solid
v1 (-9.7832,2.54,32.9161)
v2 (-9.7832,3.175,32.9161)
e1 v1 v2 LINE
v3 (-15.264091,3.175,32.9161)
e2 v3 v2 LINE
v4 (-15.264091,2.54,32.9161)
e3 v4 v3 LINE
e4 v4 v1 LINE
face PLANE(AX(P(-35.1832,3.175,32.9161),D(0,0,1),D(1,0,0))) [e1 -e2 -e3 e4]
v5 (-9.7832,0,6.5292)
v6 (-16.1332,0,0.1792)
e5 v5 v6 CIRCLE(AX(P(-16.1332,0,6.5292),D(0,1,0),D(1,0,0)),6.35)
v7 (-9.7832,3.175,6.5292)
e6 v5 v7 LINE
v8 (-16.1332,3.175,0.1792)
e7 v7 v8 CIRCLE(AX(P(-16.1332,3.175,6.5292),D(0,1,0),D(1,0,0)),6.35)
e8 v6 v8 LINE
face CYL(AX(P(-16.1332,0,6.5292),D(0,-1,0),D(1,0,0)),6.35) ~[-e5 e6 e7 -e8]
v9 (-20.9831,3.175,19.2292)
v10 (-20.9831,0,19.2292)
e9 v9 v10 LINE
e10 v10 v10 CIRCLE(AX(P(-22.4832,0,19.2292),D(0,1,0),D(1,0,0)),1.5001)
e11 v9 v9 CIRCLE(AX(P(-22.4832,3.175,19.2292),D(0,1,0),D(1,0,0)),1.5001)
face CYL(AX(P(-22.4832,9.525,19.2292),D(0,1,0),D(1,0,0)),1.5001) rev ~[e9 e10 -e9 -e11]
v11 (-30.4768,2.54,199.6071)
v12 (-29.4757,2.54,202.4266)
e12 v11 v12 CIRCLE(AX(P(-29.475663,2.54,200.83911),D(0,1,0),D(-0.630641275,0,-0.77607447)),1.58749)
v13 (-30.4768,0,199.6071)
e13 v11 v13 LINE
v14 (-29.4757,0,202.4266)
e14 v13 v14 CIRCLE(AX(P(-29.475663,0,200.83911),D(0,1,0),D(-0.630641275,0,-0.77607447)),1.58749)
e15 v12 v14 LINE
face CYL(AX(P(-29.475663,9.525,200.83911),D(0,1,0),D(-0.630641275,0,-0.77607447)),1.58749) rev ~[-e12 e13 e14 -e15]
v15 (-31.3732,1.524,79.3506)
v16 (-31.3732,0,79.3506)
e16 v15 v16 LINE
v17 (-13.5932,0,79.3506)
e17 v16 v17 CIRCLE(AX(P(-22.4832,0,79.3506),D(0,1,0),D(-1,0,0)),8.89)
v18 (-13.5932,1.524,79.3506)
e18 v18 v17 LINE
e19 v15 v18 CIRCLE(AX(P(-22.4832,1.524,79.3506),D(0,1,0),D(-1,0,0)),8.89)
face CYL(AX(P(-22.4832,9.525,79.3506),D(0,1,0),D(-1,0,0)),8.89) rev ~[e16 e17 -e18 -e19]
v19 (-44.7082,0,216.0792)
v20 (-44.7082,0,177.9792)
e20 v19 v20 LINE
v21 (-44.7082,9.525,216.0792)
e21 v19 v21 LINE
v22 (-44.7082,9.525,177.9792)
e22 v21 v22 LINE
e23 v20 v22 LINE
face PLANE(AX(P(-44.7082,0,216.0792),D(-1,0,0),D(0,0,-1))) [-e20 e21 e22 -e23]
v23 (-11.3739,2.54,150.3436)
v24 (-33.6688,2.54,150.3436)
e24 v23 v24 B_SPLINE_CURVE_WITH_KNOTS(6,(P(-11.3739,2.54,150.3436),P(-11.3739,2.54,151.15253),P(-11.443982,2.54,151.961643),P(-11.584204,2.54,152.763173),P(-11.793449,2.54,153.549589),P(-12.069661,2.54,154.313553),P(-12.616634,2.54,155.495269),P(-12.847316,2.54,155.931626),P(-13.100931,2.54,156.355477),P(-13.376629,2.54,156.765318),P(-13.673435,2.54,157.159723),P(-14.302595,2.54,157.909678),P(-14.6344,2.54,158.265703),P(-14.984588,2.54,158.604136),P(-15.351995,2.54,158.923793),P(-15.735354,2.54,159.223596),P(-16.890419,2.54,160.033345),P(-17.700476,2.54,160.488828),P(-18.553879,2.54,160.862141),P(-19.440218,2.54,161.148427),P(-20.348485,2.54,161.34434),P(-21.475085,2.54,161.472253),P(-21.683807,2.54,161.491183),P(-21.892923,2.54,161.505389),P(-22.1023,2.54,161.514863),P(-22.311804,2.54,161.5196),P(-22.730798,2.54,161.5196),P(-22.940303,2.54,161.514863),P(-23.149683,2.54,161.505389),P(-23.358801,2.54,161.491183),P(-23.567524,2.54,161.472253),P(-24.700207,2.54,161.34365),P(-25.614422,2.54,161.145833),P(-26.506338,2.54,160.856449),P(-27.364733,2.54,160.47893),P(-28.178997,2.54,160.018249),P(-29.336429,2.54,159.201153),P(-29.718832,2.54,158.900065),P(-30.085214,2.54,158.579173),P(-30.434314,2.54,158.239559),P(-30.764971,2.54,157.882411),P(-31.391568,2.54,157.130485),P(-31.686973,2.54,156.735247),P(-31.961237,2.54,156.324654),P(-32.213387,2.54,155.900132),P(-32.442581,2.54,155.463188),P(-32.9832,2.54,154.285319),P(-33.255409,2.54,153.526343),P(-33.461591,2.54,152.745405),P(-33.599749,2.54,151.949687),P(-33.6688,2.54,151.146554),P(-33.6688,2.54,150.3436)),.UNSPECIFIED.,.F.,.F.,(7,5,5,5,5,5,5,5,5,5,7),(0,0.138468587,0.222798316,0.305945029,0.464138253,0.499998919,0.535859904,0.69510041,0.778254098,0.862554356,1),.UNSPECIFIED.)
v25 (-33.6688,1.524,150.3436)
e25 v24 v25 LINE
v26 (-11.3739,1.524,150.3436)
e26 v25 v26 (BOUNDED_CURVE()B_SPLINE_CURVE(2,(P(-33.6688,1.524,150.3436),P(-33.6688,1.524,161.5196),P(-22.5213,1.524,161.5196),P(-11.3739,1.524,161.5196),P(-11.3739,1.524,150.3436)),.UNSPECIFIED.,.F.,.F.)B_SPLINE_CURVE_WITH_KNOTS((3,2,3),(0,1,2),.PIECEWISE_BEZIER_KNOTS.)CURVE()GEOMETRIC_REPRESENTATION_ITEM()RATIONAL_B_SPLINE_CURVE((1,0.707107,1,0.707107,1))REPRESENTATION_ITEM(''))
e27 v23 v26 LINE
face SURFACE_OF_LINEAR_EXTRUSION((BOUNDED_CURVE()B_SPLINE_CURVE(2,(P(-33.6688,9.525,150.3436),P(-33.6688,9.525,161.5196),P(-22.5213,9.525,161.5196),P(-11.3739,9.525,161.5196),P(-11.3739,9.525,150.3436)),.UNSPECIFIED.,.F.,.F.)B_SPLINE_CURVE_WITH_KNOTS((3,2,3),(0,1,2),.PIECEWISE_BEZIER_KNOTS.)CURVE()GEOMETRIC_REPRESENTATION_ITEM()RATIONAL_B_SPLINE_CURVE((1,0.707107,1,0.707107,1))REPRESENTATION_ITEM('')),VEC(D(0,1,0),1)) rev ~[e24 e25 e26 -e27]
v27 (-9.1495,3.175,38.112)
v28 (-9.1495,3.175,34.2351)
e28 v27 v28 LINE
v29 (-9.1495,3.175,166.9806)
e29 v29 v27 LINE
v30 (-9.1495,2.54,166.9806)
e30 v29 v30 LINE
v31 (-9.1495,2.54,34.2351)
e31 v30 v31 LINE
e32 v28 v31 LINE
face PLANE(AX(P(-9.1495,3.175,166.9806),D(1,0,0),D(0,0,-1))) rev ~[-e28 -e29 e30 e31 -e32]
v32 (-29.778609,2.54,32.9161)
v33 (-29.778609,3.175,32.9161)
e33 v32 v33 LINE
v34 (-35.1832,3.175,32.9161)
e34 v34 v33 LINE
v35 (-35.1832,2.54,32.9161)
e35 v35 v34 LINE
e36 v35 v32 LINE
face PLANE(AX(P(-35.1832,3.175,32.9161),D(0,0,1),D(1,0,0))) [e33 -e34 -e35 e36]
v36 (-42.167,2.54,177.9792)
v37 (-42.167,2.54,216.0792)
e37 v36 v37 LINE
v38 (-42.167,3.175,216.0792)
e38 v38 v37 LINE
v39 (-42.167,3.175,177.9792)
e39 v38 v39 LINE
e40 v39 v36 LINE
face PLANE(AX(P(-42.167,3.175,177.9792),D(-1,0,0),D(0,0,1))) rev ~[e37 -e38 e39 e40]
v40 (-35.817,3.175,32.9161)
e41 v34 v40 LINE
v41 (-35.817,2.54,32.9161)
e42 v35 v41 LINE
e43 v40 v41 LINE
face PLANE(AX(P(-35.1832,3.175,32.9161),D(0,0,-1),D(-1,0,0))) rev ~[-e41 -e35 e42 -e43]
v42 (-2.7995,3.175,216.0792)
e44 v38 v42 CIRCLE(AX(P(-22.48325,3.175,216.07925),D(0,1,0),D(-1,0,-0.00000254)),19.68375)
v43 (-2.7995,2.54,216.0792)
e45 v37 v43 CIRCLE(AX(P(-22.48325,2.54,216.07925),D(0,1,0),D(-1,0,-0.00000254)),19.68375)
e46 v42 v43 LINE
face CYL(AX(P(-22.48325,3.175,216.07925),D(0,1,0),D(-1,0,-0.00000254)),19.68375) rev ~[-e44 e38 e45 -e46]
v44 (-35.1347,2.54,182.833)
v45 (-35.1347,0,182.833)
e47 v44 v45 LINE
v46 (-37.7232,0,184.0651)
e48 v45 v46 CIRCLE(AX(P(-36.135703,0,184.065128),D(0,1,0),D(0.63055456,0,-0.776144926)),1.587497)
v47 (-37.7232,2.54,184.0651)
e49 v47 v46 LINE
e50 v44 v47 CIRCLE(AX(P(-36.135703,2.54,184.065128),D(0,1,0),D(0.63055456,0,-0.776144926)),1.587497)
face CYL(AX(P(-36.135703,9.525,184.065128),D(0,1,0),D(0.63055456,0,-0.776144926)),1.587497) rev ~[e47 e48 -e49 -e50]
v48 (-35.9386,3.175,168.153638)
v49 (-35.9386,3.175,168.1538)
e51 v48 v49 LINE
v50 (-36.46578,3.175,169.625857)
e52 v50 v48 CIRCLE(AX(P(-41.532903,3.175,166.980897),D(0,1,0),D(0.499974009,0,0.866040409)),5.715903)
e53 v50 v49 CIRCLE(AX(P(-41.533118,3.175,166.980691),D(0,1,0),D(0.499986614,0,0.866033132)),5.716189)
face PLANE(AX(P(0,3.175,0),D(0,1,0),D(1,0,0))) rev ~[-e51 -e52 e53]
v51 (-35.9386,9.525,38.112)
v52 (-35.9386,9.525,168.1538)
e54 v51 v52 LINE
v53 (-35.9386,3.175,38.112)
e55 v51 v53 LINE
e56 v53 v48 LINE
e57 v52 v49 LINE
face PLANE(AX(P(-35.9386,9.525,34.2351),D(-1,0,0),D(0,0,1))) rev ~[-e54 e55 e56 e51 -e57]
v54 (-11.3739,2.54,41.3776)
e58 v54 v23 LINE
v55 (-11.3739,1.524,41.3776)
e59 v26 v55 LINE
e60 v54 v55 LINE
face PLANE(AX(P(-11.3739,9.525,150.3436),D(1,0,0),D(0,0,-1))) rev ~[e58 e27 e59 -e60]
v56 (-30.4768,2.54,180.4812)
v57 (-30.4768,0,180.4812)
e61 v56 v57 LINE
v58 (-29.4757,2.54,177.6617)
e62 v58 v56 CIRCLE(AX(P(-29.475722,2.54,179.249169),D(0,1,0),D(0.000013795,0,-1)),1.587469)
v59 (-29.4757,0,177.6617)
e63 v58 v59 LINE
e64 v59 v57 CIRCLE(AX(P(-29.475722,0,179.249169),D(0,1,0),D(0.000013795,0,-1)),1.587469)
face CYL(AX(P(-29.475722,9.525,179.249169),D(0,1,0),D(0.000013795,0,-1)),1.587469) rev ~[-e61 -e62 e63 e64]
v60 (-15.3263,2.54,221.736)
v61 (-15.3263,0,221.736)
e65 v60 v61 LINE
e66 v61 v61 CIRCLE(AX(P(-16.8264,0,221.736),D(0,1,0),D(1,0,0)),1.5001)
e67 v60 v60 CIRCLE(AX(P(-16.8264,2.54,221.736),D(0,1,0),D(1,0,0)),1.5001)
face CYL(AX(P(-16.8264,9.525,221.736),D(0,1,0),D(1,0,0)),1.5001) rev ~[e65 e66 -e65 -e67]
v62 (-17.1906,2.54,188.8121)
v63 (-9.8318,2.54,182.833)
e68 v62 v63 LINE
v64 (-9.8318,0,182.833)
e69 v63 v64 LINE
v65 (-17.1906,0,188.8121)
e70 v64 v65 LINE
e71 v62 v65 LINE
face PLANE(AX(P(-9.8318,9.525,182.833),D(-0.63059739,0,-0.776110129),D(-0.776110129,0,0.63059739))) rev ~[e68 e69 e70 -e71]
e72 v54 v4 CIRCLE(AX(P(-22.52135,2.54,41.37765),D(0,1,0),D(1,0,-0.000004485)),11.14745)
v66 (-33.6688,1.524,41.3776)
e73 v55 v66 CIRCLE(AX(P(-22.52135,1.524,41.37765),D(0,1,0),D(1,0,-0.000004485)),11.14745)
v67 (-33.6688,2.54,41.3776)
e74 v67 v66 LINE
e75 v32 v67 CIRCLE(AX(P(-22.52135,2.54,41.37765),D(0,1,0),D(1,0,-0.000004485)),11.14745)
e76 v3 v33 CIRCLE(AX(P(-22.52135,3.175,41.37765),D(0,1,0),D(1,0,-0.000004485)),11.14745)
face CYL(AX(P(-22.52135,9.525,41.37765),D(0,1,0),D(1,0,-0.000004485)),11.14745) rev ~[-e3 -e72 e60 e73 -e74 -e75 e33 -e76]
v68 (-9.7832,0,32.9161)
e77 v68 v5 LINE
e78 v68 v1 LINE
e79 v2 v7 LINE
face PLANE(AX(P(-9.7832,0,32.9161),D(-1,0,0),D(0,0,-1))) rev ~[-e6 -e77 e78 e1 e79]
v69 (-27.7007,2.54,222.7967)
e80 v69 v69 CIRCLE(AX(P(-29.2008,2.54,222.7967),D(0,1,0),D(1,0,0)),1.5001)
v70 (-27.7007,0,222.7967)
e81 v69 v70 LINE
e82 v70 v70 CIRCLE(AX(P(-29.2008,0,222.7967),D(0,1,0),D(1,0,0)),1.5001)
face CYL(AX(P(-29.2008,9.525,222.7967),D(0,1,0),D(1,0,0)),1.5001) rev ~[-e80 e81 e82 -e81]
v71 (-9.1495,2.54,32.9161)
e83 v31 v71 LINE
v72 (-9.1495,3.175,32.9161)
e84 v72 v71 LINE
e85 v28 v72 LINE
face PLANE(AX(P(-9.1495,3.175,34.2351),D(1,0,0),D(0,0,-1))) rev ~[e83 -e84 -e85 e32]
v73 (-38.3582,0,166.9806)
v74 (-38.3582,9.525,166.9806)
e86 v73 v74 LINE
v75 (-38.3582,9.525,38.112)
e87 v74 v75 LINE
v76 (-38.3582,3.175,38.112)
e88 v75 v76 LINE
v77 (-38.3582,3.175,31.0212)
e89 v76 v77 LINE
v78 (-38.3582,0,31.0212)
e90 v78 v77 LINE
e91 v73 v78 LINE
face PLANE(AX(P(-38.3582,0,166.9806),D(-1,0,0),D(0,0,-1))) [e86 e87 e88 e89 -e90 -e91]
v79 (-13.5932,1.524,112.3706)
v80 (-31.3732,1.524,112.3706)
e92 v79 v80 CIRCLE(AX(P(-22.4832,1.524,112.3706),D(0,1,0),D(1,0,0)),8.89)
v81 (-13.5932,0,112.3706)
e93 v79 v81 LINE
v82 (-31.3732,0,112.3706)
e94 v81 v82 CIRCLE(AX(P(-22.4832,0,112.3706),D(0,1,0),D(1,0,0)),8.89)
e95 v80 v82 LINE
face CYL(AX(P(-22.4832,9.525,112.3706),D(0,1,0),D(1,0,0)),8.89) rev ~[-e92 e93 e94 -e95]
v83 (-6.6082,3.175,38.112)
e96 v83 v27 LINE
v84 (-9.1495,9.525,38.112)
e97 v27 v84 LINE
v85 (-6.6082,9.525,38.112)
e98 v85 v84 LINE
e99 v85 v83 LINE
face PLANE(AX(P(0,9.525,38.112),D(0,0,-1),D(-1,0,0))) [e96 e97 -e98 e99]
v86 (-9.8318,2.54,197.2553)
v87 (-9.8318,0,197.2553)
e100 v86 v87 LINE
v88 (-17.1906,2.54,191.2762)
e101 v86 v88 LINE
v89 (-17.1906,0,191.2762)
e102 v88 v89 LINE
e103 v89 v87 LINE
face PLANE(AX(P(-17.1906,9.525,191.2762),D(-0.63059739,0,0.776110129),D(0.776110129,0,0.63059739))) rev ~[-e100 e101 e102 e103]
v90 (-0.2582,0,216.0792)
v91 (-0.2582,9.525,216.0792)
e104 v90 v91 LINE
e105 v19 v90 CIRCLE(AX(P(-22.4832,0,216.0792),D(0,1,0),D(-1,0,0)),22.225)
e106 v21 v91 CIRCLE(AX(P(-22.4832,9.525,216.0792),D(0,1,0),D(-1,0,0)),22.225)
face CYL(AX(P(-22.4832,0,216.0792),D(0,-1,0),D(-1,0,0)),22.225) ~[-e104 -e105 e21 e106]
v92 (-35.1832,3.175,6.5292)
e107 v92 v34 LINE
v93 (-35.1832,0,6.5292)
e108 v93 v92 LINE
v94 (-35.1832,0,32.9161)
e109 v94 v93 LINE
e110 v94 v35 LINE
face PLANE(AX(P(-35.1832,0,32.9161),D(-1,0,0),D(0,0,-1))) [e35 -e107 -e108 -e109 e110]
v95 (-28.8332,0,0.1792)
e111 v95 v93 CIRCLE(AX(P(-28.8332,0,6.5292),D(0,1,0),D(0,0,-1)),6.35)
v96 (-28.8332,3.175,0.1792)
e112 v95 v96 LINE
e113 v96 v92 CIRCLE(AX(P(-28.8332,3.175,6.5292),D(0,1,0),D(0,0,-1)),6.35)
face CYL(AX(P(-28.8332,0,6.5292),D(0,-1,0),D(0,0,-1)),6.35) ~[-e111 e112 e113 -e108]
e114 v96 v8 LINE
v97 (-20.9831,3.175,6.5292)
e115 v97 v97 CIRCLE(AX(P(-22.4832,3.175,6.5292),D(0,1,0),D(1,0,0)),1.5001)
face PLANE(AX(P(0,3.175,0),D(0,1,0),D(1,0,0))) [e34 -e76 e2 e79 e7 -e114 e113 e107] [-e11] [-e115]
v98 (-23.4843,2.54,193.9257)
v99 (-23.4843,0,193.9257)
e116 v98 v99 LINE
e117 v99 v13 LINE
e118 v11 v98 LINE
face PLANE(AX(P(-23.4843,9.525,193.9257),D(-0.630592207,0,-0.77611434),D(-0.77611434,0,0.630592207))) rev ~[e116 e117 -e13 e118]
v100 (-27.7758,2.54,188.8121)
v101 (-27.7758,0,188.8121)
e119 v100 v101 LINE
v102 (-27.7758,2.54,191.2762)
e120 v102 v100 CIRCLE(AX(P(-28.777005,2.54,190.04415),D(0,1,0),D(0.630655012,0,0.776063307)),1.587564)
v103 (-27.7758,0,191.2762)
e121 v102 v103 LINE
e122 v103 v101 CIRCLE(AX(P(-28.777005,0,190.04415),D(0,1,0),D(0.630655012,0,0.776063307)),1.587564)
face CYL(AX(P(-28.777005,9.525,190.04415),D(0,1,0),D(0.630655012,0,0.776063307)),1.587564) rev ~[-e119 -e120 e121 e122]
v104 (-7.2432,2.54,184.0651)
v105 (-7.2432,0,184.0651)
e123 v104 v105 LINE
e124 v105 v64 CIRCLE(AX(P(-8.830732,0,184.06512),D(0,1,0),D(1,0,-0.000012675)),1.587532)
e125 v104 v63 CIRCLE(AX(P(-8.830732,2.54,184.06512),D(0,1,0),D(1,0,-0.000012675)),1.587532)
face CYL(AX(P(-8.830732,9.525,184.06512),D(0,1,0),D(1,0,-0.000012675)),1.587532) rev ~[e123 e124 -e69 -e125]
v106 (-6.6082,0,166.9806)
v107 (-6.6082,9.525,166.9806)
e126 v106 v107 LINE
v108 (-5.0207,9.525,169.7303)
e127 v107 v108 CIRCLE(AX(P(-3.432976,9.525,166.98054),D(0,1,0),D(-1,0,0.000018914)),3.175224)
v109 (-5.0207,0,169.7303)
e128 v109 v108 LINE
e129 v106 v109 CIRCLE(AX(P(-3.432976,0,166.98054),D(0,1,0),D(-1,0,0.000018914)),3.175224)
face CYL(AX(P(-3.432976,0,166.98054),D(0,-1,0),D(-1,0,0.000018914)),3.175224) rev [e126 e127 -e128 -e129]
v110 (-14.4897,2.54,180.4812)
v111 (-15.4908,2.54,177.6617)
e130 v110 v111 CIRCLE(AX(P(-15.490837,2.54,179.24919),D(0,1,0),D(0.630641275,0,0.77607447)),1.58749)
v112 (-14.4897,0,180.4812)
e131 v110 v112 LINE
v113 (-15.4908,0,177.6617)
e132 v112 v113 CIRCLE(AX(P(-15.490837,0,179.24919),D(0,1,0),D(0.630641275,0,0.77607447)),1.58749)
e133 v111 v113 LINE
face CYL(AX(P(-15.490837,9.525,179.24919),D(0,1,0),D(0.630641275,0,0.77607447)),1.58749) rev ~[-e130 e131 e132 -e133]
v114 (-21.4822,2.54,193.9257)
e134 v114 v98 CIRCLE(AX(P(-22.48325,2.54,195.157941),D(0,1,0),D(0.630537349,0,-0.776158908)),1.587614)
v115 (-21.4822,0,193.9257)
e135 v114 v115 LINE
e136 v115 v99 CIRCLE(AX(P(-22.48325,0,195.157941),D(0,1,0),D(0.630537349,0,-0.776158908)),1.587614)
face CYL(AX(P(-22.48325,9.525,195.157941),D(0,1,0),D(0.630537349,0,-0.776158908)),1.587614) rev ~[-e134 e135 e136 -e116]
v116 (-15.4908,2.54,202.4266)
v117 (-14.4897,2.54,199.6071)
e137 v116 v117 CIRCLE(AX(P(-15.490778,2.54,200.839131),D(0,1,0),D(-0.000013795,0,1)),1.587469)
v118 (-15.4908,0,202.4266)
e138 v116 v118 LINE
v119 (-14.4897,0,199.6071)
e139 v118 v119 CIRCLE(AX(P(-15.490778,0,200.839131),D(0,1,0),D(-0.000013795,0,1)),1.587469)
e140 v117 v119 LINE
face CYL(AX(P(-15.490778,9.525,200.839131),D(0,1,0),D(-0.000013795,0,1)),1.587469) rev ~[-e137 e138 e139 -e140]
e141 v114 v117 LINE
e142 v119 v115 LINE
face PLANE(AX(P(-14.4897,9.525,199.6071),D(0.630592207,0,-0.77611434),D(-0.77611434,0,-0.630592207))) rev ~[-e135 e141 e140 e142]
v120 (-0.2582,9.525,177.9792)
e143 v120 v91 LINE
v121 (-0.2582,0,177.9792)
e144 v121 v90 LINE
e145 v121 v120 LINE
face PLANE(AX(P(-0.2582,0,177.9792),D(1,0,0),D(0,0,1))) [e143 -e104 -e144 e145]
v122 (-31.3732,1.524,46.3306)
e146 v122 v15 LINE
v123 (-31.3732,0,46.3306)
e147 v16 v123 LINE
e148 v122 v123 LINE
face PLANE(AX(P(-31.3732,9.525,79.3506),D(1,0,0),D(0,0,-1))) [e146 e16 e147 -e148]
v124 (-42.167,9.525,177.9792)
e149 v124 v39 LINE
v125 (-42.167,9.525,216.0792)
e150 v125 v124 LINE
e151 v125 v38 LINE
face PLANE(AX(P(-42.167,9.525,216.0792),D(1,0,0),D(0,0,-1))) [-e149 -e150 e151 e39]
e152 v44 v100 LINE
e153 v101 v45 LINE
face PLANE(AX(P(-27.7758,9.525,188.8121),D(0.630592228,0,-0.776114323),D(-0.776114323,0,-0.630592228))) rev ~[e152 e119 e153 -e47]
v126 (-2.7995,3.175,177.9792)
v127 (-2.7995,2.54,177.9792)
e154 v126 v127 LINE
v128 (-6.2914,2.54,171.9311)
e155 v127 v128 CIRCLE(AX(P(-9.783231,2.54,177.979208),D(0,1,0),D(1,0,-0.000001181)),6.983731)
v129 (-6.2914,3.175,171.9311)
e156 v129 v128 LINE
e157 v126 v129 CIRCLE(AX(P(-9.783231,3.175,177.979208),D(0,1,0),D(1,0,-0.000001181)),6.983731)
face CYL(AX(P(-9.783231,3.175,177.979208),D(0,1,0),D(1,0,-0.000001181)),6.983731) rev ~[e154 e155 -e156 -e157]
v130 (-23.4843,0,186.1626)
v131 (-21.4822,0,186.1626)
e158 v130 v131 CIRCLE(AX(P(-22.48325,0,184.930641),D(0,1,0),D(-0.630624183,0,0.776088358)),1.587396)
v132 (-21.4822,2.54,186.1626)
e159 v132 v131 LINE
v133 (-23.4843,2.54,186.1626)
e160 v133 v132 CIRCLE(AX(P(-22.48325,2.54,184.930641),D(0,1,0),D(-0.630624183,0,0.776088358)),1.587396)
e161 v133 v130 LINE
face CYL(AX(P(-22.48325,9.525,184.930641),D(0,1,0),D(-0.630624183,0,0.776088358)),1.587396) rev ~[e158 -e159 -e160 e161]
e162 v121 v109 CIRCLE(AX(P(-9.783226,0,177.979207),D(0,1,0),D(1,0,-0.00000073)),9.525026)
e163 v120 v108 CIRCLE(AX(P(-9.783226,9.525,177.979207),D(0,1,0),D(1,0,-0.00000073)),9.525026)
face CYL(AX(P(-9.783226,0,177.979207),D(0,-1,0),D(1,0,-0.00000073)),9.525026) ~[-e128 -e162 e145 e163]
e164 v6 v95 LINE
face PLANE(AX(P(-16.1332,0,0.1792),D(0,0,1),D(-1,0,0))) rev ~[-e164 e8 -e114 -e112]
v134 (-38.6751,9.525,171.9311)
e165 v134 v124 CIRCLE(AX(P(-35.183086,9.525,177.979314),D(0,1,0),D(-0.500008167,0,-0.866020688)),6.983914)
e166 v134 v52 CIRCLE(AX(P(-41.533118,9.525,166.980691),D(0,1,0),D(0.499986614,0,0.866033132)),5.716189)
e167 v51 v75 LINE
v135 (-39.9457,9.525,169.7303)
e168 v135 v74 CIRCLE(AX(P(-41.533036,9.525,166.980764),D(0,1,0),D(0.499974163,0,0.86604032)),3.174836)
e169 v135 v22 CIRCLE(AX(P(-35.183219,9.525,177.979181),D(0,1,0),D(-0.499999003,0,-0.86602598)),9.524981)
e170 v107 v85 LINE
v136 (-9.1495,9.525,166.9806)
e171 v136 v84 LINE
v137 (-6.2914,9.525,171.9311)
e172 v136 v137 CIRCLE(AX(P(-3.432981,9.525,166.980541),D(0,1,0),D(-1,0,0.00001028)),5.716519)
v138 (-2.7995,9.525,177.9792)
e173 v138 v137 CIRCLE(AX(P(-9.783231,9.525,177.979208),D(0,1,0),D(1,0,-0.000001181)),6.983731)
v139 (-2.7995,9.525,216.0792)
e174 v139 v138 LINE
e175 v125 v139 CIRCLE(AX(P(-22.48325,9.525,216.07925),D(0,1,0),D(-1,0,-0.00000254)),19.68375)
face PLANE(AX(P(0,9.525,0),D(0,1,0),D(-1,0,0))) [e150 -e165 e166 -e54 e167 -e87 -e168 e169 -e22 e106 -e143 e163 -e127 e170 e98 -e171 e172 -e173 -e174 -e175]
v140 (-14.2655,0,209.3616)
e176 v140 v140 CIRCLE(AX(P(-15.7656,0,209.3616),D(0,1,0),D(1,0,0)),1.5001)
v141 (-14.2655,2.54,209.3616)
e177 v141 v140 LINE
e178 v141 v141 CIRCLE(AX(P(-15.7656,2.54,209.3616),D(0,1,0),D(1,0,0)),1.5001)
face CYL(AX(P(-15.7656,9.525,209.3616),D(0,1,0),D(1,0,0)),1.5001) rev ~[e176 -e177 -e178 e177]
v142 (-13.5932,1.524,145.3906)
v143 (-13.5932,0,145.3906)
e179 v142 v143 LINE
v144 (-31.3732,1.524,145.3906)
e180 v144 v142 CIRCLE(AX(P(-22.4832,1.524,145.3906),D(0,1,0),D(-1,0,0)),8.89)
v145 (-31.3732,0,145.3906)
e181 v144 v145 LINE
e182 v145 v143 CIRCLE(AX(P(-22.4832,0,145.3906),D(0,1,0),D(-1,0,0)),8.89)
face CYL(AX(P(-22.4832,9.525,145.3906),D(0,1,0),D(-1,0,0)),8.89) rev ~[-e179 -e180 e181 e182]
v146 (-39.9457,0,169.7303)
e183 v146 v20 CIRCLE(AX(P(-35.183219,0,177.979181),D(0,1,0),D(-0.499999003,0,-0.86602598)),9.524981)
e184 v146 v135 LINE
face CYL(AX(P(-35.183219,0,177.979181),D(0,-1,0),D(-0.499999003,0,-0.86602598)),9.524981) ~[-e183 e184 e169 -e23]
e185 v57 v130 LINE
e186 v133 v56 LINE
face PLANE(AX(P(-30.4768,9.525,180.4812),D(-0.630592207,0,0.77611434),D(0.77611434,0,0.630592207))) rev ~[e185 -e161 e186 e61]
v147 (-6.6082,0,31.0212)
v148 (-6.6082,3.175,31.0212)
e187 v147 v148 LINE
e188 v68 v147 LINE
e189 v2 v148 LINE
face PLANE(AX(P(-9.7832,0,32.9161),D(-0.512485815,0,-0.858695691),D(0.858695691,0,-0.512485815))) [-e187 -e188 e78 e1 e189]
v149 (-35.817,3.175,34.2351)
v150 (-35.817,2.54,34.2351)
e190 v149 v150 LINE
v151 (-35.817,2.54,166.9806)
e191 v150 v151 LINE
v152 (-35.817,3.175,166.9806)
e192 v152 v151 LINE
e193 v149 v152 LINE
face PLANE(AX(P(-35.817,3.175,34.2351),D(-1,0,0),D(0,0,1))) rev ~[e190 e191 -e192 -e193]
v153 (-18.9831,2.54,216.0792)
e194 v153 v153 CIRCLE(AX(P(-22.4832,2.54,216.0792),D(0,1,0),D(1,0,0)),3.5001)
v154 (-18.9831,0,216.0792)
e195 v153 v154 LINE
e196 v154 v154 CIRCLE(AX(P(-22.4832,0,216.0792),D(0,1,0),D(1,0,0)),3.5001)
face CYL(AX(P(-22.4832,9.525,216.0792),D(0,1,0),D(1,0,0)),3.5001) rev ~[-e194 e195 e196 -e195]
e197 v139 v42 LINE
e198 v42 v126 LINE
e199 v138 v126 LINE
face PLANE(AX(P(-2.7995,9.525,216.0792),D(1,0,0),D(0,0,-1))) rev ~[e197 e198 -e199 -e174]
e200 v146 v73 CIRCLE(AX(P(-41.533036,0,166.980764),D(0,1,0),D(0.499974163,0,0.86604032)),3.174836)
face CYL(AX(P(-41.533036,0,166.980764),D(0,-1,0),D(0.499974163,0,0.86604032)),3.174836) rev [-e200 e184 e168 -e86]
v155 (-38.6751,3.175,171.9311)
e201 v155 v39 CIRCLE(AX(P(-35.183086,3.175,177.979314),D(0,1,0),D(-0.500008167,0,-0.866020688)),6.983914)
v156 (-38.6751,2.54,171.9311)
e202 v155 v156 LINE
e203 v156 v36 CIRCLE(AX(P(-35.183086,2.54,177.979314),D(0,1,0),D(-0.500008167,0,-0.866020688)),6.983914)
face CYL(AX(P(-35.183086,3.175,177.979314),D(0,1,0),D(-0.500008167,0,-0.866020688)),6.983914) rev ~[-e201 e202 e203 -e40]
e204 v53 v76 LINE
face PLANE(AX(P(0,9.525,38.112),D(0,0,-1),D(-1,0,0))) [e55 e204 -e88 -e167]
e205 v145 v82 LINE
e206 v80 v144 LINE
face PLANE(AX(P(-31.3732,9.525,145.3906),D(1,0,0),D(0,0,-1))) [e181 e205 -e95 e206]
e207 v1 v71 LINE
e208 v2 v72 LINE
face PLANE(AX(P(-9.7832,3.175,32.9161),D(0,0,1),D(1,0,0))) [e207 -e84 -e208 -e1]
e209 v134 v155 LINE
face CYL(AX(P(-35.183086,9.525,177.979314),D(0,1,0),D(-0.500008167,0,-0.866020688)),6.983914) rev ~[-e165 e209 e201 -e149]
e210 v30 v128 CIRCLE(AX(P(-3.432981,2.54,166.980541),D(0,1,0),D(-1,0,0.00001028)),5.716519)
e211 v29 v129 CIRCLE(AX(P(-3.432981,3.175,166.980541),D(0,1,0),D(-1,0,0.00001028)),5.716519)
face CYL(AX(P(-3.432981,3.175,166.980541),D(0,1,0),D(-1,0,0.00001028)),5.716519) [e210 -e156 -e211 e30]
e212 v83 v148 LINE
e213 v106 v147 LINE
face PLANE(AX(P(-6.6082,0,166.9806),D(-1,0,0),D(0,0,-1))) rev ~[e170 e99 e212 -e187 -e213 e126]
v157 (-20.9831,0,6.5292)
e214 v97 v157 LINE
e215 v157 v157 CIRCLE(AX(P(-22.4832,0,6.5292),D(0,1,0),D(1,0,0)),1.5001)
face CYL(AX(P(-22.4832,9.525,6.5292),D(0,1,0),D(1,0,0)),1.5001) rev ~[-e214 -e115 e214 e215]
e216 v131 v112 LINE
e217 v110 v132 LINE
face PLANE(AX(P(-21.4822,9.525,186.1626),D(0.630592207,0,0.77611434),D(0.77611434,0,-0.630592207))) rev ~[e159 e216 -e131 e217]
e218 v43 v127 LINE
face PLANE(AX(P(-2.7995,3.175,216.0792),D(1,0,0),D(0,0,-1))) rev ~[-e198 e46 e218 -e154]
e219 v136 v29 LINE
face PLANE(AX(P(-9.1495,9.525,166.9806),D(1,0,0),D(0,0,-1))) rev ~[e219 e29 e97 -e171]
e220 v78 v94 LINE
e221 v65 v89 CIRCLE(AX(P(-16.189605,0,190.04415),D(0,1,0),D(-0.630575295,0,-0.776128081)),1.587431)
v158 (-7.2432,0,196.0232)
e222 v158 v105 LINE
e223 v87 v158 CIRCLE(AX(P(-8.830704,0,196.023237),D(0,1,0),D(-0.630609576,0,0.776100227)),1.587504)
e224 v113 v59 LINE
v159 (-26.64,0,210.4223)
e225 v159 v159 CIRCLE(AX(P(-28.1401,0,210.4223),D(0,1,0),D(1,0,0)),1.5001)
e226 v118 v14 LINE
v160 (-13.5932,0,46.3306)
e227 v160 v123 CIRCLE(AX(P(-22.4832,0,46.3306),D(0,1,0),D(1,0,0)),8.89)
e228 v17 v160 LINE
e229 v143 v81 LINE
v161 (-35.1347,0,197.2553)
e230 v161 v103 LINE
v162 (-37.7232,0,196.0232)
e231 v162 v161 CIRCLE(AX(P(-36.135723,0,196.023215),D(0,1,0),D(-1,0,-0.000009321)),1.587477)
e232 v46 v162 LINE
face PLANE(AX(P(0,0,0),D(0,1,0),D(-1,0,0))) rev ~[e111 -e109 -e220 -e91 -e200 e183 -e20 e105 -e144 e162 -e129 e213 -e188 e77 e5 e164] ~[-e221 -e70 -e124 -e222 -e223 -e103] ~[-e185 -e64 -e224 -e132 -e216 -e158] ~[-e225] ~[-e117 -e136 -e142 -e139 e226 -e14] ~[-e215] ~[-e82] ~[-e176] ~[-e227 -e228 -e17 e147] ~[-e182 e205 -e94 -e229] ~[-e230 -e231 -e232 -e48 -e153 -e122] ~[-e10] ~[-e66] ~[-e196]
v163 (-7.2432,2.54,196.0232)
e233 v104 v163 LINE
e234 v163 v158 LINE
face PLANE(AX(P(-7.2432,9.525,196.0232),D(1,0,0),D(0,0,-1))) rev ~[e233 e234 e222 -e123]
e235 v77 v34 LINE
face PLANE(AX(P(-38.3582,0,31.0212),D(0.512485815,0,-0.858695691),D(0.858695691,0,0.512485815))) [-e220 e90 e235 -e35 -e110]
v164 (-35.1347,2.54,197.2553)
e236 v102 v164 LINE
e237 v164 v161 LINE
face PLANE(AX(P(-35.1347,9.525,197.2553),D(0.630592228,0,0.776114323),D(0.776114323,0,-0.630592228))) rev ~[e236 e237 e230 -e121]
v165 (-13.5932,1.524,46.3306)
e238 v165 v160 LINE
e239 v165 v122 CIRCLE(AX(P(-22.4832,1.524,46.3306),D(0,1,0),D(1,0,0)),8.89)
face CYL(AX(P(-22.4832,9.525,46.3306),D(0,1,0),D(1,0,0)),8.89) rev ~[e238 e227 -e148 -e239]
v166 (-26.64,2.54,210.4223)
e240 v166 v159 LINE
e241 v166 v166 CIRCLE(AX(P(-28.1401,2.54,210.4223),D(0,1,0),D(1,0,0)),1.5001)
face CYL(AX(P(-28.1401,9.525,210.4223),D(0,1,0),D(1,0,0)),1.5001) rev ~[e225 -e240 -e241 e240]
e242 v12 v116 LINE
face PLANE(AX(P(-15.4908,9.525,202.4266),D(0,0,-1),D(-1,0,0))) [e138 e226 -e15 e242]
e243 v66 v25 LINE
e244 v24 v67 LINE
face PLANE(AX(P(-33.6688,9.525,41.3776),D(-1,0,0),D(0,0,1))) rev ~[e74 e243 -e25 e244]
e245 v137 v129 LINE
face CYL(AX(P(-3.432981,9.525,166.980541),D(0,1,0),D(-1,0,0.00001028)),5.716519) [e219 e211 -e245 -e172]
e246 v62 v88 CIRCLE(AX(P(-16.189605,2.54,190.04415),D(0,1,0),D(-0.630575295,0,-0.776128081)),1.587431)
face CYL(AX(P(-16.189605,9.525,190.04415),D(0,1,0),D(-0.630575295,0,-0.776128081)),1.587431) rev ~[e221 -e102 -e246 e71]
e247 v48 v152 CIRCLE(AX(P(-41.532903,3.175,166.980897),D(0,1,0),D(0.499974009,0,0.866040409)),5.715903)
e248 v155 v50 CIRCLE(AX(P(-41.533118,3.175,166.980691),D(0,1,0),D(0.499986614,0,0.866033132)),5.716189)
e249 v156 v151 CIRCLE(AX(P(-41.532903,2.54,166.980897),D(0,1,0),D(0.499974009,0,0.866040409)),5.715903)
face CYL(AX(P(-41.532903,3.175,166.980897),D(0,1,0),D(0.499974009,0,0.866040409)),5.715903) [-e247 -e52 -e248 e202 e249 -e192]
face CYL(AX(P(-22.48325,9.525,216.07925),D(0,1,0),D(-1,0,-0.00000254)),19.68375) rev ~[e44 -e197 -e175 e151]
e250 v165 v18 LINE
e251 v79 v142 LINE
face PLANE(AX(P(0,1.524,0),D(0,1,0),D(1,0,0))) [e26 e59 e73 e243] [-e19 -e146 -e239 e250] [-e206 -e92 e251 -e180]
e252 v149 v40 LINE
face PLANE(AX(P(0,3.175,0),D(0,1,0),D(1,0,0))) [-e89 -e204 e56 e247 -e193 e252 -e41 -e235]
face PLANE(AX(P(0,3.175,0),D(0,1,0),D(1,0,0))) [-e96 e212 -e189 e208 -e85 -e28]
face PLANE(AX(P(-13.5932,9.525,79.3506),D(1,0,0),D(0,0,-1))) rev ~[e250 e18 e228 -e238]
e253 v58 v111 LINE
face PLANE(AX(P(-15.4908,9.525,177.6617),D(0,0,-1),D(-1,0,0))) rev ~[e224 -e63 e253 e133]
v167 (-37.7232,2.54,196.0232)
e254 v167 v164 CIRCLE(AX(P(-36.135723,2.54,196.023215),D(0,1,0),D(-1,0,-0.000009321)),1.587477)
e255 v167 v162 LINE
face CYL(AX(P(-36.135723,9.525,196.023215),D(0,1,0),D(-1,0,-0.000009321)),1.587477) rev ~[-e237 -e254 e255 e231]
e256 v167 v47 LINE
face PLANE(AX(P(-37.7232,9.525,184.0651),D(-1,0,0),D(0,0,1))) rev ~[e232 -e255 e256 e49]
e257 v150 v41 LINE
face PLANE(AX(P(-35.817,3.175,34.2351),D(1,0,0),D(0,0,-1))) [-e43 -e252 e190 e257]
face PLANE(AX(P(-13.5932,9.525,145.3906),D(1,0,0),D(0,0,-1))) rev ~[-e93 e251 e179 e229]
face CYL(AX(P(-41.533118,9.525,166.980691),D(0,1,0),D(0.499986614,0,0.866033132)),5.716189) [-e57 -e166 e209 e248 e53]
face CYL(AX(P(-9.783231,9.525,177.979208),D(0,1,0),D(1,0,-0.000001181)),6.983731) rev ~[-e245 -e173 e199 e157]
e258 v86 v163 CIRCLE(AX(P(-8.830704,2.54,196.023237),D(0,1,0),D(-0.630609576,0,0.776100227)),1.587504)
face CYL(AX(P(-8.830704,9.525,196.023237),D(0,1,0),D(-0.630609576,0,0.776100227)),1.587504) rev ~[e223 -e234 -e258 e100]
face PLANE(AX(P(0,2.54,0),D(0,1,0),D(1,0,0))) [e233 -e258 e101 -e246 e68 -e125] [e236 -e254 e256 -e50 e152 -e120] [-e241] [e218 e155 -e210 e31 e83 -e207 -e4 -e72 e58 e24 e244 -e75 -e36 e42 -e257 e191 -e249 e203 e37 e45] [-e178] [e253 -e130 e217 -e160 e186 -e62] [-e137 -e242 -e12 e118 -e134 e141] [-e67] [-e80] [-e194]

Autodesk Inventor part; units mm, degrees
ref_plane "YZ Plane" through (0, 0, 0) normal (1, 0, 0) x (0, 1, 0)
ref_plane "XZ Plane" through (0, 0, 0) normal (0, 1, 0) x (-1, 0, 0)
ref_plane "XY Plane" through (0, 0, 0) normal (0, 0, 1) x (1, 0, 0)
sketch "Sketch1" plane through (0, 0, 0) normal (0, 1, 0) x (-1, 0, 0)
  line L0 (52.0335, 19.2292) -> (51.733, 19.2292)
  line L1 (38.3582, 166.9806) -> (38.3582, 31.0212)
  line L2 (6.6082, 166.9806) -> (6.6082, 31.0212)
  line L3 (38.3582, 31.0212) -> (35.1832, 32.9161)
  line L4 (35.1832, 32.9161) -> (35.1832, 6.5292)
  line L5 (9.7832, 32.9161) -> (9.7832, 6.5292)
  line L6 (16.1332, 0.1792) -> (28.8332, 0.1792)
  line L7 (44.7082, 216.0792) -> (44.7082, 177.9792)
  line L8 (0.2582, 177.9792) -> (0.2582, 216.0792)
  arc A0 (44.7082, 216.0792) -> (0.2582, 216.0792) centre (22.4832, 216.0792) ccw
  arc A1 (39.9457, 169.7303) -> (38.3582, 166.9806) centre (41.5332, 166.9806) ccw
  arc A2 (28.8332, 0.1792) -> (35.1832, 6.5292) centre (28.8332, 6.5292) ccw
  arc A3 (9.7832, 6.5292) -> (16.1332, 0.1792) centre (16.1332, 6.5292) ccw
  arc A4 (39.9457, 169.7303) -> (44.7082, 177.9792) centre (35.1832, 177.9792) ccw
  arc A5 (0.2582, 177.9792) -> (5.0207, 169.7303) centre (9.7832, 177.9792) ccw
  arc A6 (6.6082, 166.9806) -> (5.0207, 169.7303) centre (3.4332, 166.9806) ccw
  line L9 (9.7832, 32.9161) -> (6.6082, 31.0212)
extrude "Extrusion1" add sketch "Sketch1" along normal blind 9.525
sketch "Sketch5" plane through (0, 9.525, 0) normal (0, 1, 0) x (1, 0, 0)
  line L0 (-52.0335, -19.2292) -> (-51.733, -19.2292)
  line L1 (-35.1832, -32.9161) -> (-35.1832, -34.2351)
  line L2 (-9.7832, -32.9161) -> (-9.7832, -34.2351)
  line L3 (-2.7995, -216.0792) -> (-2.7995, -177.9792)
  line L4 (-42.167, -216.0792) -> (-42.167, -177.9792)
  line L5 (-9.1495, -166.9806) -> (-9.1495, -34.2351)
  line L6 (-9.1495, -34.2351) -> (-9.7832, -34.2351)
  line L7 (-35.1832, -34.2351) -> (-35.9386, -34.2351)
  line L8 (-35.1832, -6.5292) -> (-35.1832, -32.9161)
  line L9 (-35.1832, -32.9161) -> (-35.1832, -6.5292) projected
  line L10 (-9.7832, -32.9161) -> (-9.7832, -6.5292)
  arc A0 (-9.7832, -6.5292) -> (-16.1332, -0.1792) centre (-16.1332, -6.5292) ccw
  arc A1 (-28.8332, -0.1792) -> (-35.1832, -6.5292) centre (-28.8332, -6.5292) ccw
  arc A2 (-38.6751, -171.9311) -> (-42.167, -177.9792) centre (-35.1832, -177.9792) ccw
  arc A3 (-2.7995, -177.9792) -> (-6.2914, -171.9311) centre (-9.7832, -177.9792) ccw
  arc A4 (-9.1495, -166.9806) -> (-6.2914, -171.9311) centre (-3.4332, -166.9806) ccw
  arc A5 (-38.6751, -171.9311) -> (-35.9386, -168.1538) centre (-41.5332, -166.9806) ccw
  line L11 (-28.8332, -0.1792) -> (-16.1332, -0.1792)
  arc A6 (-9.7832, -6.5292) -> (-16.1332, -0.1792) centre (-16.1332, -6.5292) ccw projected
  line L12 (-16.1332, -0.1792) -> (-28.8332, -0.1792) projected
  arc A7 (-42.167, -216.0792) -> (-2.7995, -216.0792) centre (-22.4832, -216.0792) ccw
  line L13 (-35.9386, -34.2351) -> (-35.9386, -168.1538)
  line L14 (-38.3582, -166.9806) -> (-38.3582, -31.0212) projected
extrude "Extrusion2" cut sketch "Sketch5" against normal blind 6.35
sketch "Sketch6" plane through (0, 9.525, 0) normal (0, 1, 0) x (1, 0, 0)
  circle A0 centre (-22.4832, -19.2292) radius 1.5001
  circle A1 centre (-22.4832, -6.5292) radius 1.5001
  line L0 (-13.5932, -145.3906) -> (-13.5932, -112.3706)
  line L1 (-31.3732, -145.3906) -> (-31.3732, -112.3706)
  line L2 (-31.3732, -79.3506) -> (-31.3732, -46.3306)
  line L3 (-13.5932, -79.3506) -> (-13.5932, -46.3306)
  arc A2 (-13.5932, -112.3706) -> (-31.3732, -112.3706) centre (-22.4832, -112.3706) ccw
  arc A3 (-31.3732, -145.3906) -> (-13.5932, -145.3906) centre (-22.4832, -145.3906) ccw
  arc A4 (-31.3732, -79.3506) -> (-13.5932, -79.3506) centre (-22.4832, -79.3506) ccw
  arc A5 (-13.5932, -46.3306) -> (-31.3732, -46.3306) centre (-22.4832, -46.3306) ccw
  line L4 (-149.0334, -127.8705) -> (-176.2084, -108.4598)
  line L5 (-109.1652, -138.2049) -> (-81.9901, -157.6157)
  line L6 (-123.9321, -113.1036) -> (-104.5213, -85.9286)
  line L7 (-109.6885, -190.1877) -> (-148.51, -190.1877)
  line L8 (-109.6885, -75.8877) -> (-148.51, -75.8877)
  arc A6 (-148.51, -75.8877) -> (-153.6772, -85.9286) centre (-148.51, -82.2377) ccw
  circle A7 centre (-82.019, -85.9575) radius 1.5001
  circle A8 centre (-176.1795, -180.118) radius 1.5001
  circle A9 centre (-176.1795, -85.9575) radius 1.5001
  circle A10 centre (-151.5993, -155.5378) radius 1.5001
  circle A11 centre (-106.5992, -155.5378) radius 1.5001
  circle A12 centre (-106.5992, -110.5377) radius 1.5001
  circle A13 centre (-151.5993, -110.5377) radius 1.5001
  circle A14 centre (-16.8264, -221.736) radius 1.5001
  circle A15 centre (-29.2008, -222.7967) radius 1.5001
  circle A16 centre (-15.7656, -209.3616) radius 1.5001
  line L9 (-149.0334, -138.2049) -> (-176.2084, -157.6157)
  line L10 (-134.2665, -152.9718) -> (-153.6772, -180.1469)
  line L11 (-109.1652, -127.8705) -> (-81.9901, -108.4598)
  line L12 (-134.2665, -113.1036) -> (-153.6772, -85.9286)
  line L13 (-186.2493, -113.627) -> (-186.2493, -152.4485)
  line L14 (-71.9493, -152.4485) -> (-71.9493, -113.627)
  arc A17 (-104.5213, -85.9286) -> (-109.6885, -75.8877) centre (-109.6885, -82.2377) ccw
  arc A18 (-134.2665, -113.1036) -> (-123.9321, -113.1036) centre (-129.0993, -109.4128) ccw
  arc A19 (-149.0334, -138.2049) -> (-149.0334, -127.8705) centre (-152.7242, -133.0377) ccw
  arc A20 (-186.2493, -152.4485) -> (-176.2084, -157.6157) centre (-179.8993, -152.4485) ccw
  arc A21 (-176.2084, -108.4598) -> (-186.2493, -113.627) centre (-179.8993, -113.627) ccw
  arc A22 (-153.6772, -180.1469) -> (-148.51, -190.1877) centre (-148.51, -183.8377) ccw
  arc A23 (-123.9321, -152.9718) -> (-134.2665, -152.9718) centre (-129.0993, -156.6627) ccw
  arc A24 (-81.9901, -157.6157) -> (-71.9493, -152.4485) centre (-78.2993, -152.4485) ccw
  arc A25 (-71.9493, -113.627) -> (-81.9901, -108.4598) centre (-78.2993, -113.627) ccw
  arc A26 (-109.1652, -127.8705) -> (-109.1652, -138.2049) centre (-105.4743, -133.0377) ccw
  arc A27 (-127.8075, -223.1112) -> (-130.3911, -223.1112) centre (-129.0993, -224.034) ccw
  line L15 (-134.0828, -216.8359) -> (-140.8766, -211.9832)
  line L16 (-134.0828, -219.4195) -> (-140.8766, -224.2722)
  line L17 (-127.8075, -223.1112) -> (-122.9548, -229.905)
  line L18 (-130.3911, -223.1112) -> (-135.2438, -229.905)
  line L19 (-124.1158, -219.4195) -> (-117.322, -224.2722)
  line L20 (-124.1158, -216.8359) -> (-117.322, -211.9832)
  line L21 (-127.8075, -213.1442) -> (-122.9548, -206.3504)
  line L22 (-130.3911, -213.1442) -> (-135.2437, -206.3504)
  arc A28 (-130.3911, -213.1442) -> (-127.8075, -213.1442) centre (-129.0993, -212.2215) ccw
  arc A29 (-134.0828, -219.4195) -> (-134.0828, -216.8359) centre (-135.0055, -218.1277) ccw
  arc A30 (-124.1158, -216.8359) -> (-124.1158, -219.4195) centre (-123.193, -218.1277) ccw
  line L23 (-117.322, -224.2722) -> (-108.7122, -230.3009)
  line L24 (-117.322, -211.9832) -> (-108.7122, -205.9546)
  line L25 (-135.2438, -229.905) -> (-137.004, -232.4188)
  line L26 (-122.9548, -229.905) -> (-121.1946, -232.4188)
  line L27 (-123.2752, -236.4157) -> (-134.9233, -236.4157)
  line L28 (-123.24, -199.8397) -> (-134.9586, -199.8397)
  line L29 (-153.4832, -207.9142) -> (-153.4832, -228.3413)
  line L30 (-104.7153, -228.2202) -> (-104.7153, -208.0352)
  line L31 (-140.8766, -211.9832) -> (-149.4669, -205.8473)
  line L32 (-140.8766, -224.2722) -> (-149.4669, -230.4082)
  line L33 (-122.9548, -206.3504) -> (-121.1731, -203.8561)
  line L34 (-135.2437, -206.3504) -> (-137.0254, -203.8561)
  arc A31 (-108.7122, -230.3009) -> (-104.7153, -228.2202) centre (-107.2553, -228.2202) ccw
  arc A32 (-104.7153, -208.0352) -> (-108.7122, -205.9546) centre (-107.2553, -208.0352) ccw
  arc A33 (-121.1731, -203.8561) -> (-123.24, -199.8397) centre (-123.24, -202.3797) ccw
  arc A34 (-134.9586, -199.8397) -> (-137.0254, -203.8561) centre (-134.9586, -202.3797) ccw
  arc A35 (-149.4669, -205.8473) -> (-153.4832, -207.9142) centre (-150.9432, -207.9142) ccw
  arc A36 (-153.4832, -228.3413) -> (-149.4669, -230.4082) centre (-150.9432, -228.3413) ccw
  arc A37 (-137.004, -232.4188) -> (-134.9233, -236.4157) centre (-134.9233, -233.8757) ccw
  arc A38 (-123.2752, -236.4157) -> (-121.1946, -232.4188) centre (-123.2752, -233.8757) ccw
  arc A39 (-109.6885, -190.1877) -> (-104.5213, -180.1469) centre (-109.6885, -183.8377) ccw
  line L35 (-123.9321, -152.9718) -> (-104.5213, -180.1469)
  circle A40 centre (-82.019, -180.118) radius 1.5001
  circle A41 centre (-22.4832, -216.0792) radius 3.5001
  circle A42 centre (-28.1401, -210.4223) radius 1.5001
  arc A43 (-92.1218, -170.0152) -> (-89.8767, -172.2603) centre (-90.9993, -171.1377) ccw
  arc A44 (-82.019, -169.0055) -> (-82.019, -165.8305) centre (-82.019, -167.418) ccw
  arc A45 (-82.019, -169.0055) -> (-89.8767, -172.2603) centre (-82.019, -180.118) ccw
  arc A46 (-82.019, -165.8305) -> (-92.1218, -170.0152) centre (-82.019, -180.118) ccw
  arc A47 (-82.019, -100.245) -> (-82.019, -97.07) centre (-82.019, -98.6575) ccw
  arc A48 (-92.1218, -96.0603) -> (-82.019, -100.245) centre (-82.019, -85.9575) ccw
  arc A49 (-89.8767, -93.8152) -> (-82.019, -97.07) centre (-82.019, -85.9575) ccw
  arc A50 (-89.8767, -93.8152) -> (-92.1218, -96.0603) centre (-90.9993, -94.9377) ccw
  arc A51 (-176.1795, -165.8305) -> (-176.1795, -169.0055) centre (-176.1795, -167.418) ccw
  arc A52 (-166.0767, -170.0152) -> (-176.1795, -165.8305) centre (-176.1795, -180.118) ccw
  arc A53 (-168.3218, -172.2603) -> (-176.1795, -169.0055) centre (-176.1795, -180.118) ccw
  arc A54 (-168.3218, -172.2603) -> (-166.0767, -170.0152) centre (-167.1993, -171.1377) ccw
  arc A55 (-176.1795, -97.07) -> (-176.1795, -100.245) centre (-176.1795, -98.6575) ccw
  arc A56 (-176.1795, -100.245) -> (-166.0767, -96.0603) centre (-176.1795, -85.9575) ccw
  arc A57 (-176.1795, -97.07) -> (-168.3218, -93.8152) centre (-176.1795, -85.9575) ccw
  arc A58 (-166.0767, -96.0603) -> (-168.3218, -93.8152) centre (-167.1993, -94.9377) ccw
  arc A59 (-15.4908, -202.4266) -> (-14.4897, -199.6071) centre (-15.4908, -200.8391) ccw
  arc A60 (-30.4768, -199.6071) -> (-29.4757, -202.4266) centre (-29.4757, -200.8391) ccw
  arc A61 (-21.4822, -193.9257) -> (-23.4843, -193.9257) centre (-22.4832, -195.1578) ccw
  arc A62 (-17.1906, -188.8121) -> (-17.1906, -191.2762) centre (-16.1895, -190.0442) ccw
  arc A63 (-7.2432, -184.0651) -> (-9.8318, -182.833) centre (-8.8307, -184.0651) ccw
  arc A64 (-9.8318, -197.2553) -> (-7.2432, -196.0232) centre (-8.8307, -196.0232) ccw
  arc A65 (-14.4897, -180.4812) -> (-15.4908, -177.6617) centre (-15.4908, -179.2492) ccw
  arc A66 (-29.4757, -177.6617) -> (-30.4768, -180.4812) centre (-29.4757, -179.2492) ccw
  arc A67 (-23.4843, -186.1626) -> (-21.4822, -186.1626) centre (-22.4832, -184.9305) ccw
  arc A68 (-27.7758, -191.2762) -> (-27.7758, -188.8121) centre (-28.7769, -190.0442) ccw
  arc A69 (-37.7232, -196.0232) -> (-35.1347, -197.2553) centre (-36.1357, -196.0232) ccw
  arc A70 (-35.1347, -182.833) -> (-37.7232, -184.0651) centre (-36.1357, -184.0651) ccw
  line L36 (-15.4908, -202.4266) -> (-29.4757, -202.4266)
  line L37 (-14.4897, -199.6071) -> (-21.4822, -193.9257)
  line L38 (-23.4843, -193.9257) -> (-30.4768, -199.6071)
  line L39 (-35.1347, -197.2553) -> (-27.7758, -191.2762)
  line L40 (-27.7758, -188.8121) -> (-35.1347, -182.833)
  line L41 (-37.7232, -184.0651) -> (-37.7232, -196.0232)
  line L42 (-30.4768, -180.4812) -> (-23.4843, -186.1626)
  line L43 (-21.4822, -186.1626) -> (-14.4897, -180.4812)
  line L44 (-15.4908, -177.6617) -> (-29.4757, -177.6617)
  line L45 (-7.2432, -196.0232) -> (-7.2432, -184.0651)
  line L46 (-9.8318, -182.833) -> (-17.1906, -188.8121)
  line L47 (-17.1906, -191.2762) -> (-9.8318, -197.2553)
  point P0 (0, 0)
extrude "Extrusion3" cut sketch "Sketch6" against normal blind 25.4
sketch "Sketch7" plane through (0, 9.525, 0) normal (0, 1, 0) x (1, 0, 0)
  line L0 (-52.0335, -19.2292) -> (-51.733, -19.2292)
  line L1 (0, -16.7662) -> (-44.6659, -16.7662)
  line L2 (0, -38.112) -> (-44.6659, -38.112)
  line L3 (0, -38.112) -> (0, -16.7662)
  line L4 (-44.6659, -16.7662) -> (-44.6659, -38.112)
  point P0 (0, 0)
extrude "Extrusion4" cut sketch "Sketch7" against normal blind 6.35
sketch "Sketch9" plane through (0, 9.525, 0) normal (0, 1, 0) x (1, 0, 0)
  arc A0 (-6.6082, -166.9806) -> (-5.0207, -169.7303) centre (-3.4332, -166.9806) ccw
  spline S0 degree 2 poles (-33.6688, -150.3436) (-33.6688, -161.5196) (-22.5213, -161.5196) (-11.3739, -161.5196) (-11.3739, -150.3436) knots 0 0 0 1 1 2 2 2 weights 1 0.707107 1 0.707107 1
  line L0 (-33.6688, -150.3436) -> (-33.6688, -161.5196) construction
  line L1 (-33.6688, -161.5196) -> (-22.5213, -161.5196) construction
  line L2 (-22.5213, -161.5196) -> (-11.3739, -161.5196) construction
  line L3 (-11.3739, -161.5196) -> (-11.3739, -150.3436) construction
  arc A1 (-11.3739, -41.3776) -> (-33.6688, -41.3776) centre (-22.5213, -41.3776) ccw
  line L4 (-11.3739, -150.3436) -> (-11.3739, -41.3776)
  line L5 (-33.6688, -41.3776) -> (-33.6688, -150.3436)
  point P0 (0, 0)
extrude "Extrusion6" cut sketch "Sketch9" against normal blind 8.001
sketch "Sketch10" plane through (0, 3.175, 0) normal (0, 1, 0) x (1, 0, 0)
  line L0 (-52.0335, -19.2292) -> (-51.733, -19.2292)
  arc A0 (-38.6751, -171.9311) -> (-35.817, -166.9806) centre (-41.5332, -166.9806) ccw
  arc A1 (-38.6751, -171.9311) -> (-42.167, -177.9792) centre (-35.1832, -177.9792) ccw
  line L1 (-42.167, -177.9792) -> (-42.167, -216.0792)
  arc A2 (-42.167, -216.0792) -> (-2.7995, -216.0792) centre (-22.4832, -216.0792) ccw
  line L2 (-2.7995, -216.0792) -> (-2.7995, -177.9792)
  arc A3 (-2.7995, -177.9792) -> (-6.2914, -171.9311) centre (-9.7832, -177.9792) ccw
  arc A4 (-9.1495, -166.9806) -> (-6.2914, -171.9311) centre (-3.4332, -166.9806) ccw
  line L3 (-9.1495, -166.9806) -> (-9.1495, -34.2351)
  line L4 (-35.817, -34.2351) -> (-35.817, -166.9806)
  line L5 (-35.1832, -32.9161) -> (-35.817, -32.9161)
  line L6 (-9.7832, -32.9161) -> (-9.1495, -32.9161)
  line L7 (-9.1495, -34.2351) -> (-9.1495, -32.9161)
  line L8 (-35.817, -34.2351) -> (-35.817, -32.9161)
  line L9 (-35.1832, -32.9161) -> (-9.1495, -32.9161)
  point P0 (-9.1495, -166.9806)
  point P1 (-41.5332, -166.9806)
  point P2 (-3.4332, -166.9806)
extrude "Extrusion7" cut sketch "Sketch10" against normal blind 0.635
thread "Thread1" size "5-40 UNC" class "2B" standard "ANSI Unified Screw Threads" full length
thread "Thread2" size "5-40 UNC" class "2B" standard "ANSI Unified Screw Threads" full length
properties part number "Arm"
